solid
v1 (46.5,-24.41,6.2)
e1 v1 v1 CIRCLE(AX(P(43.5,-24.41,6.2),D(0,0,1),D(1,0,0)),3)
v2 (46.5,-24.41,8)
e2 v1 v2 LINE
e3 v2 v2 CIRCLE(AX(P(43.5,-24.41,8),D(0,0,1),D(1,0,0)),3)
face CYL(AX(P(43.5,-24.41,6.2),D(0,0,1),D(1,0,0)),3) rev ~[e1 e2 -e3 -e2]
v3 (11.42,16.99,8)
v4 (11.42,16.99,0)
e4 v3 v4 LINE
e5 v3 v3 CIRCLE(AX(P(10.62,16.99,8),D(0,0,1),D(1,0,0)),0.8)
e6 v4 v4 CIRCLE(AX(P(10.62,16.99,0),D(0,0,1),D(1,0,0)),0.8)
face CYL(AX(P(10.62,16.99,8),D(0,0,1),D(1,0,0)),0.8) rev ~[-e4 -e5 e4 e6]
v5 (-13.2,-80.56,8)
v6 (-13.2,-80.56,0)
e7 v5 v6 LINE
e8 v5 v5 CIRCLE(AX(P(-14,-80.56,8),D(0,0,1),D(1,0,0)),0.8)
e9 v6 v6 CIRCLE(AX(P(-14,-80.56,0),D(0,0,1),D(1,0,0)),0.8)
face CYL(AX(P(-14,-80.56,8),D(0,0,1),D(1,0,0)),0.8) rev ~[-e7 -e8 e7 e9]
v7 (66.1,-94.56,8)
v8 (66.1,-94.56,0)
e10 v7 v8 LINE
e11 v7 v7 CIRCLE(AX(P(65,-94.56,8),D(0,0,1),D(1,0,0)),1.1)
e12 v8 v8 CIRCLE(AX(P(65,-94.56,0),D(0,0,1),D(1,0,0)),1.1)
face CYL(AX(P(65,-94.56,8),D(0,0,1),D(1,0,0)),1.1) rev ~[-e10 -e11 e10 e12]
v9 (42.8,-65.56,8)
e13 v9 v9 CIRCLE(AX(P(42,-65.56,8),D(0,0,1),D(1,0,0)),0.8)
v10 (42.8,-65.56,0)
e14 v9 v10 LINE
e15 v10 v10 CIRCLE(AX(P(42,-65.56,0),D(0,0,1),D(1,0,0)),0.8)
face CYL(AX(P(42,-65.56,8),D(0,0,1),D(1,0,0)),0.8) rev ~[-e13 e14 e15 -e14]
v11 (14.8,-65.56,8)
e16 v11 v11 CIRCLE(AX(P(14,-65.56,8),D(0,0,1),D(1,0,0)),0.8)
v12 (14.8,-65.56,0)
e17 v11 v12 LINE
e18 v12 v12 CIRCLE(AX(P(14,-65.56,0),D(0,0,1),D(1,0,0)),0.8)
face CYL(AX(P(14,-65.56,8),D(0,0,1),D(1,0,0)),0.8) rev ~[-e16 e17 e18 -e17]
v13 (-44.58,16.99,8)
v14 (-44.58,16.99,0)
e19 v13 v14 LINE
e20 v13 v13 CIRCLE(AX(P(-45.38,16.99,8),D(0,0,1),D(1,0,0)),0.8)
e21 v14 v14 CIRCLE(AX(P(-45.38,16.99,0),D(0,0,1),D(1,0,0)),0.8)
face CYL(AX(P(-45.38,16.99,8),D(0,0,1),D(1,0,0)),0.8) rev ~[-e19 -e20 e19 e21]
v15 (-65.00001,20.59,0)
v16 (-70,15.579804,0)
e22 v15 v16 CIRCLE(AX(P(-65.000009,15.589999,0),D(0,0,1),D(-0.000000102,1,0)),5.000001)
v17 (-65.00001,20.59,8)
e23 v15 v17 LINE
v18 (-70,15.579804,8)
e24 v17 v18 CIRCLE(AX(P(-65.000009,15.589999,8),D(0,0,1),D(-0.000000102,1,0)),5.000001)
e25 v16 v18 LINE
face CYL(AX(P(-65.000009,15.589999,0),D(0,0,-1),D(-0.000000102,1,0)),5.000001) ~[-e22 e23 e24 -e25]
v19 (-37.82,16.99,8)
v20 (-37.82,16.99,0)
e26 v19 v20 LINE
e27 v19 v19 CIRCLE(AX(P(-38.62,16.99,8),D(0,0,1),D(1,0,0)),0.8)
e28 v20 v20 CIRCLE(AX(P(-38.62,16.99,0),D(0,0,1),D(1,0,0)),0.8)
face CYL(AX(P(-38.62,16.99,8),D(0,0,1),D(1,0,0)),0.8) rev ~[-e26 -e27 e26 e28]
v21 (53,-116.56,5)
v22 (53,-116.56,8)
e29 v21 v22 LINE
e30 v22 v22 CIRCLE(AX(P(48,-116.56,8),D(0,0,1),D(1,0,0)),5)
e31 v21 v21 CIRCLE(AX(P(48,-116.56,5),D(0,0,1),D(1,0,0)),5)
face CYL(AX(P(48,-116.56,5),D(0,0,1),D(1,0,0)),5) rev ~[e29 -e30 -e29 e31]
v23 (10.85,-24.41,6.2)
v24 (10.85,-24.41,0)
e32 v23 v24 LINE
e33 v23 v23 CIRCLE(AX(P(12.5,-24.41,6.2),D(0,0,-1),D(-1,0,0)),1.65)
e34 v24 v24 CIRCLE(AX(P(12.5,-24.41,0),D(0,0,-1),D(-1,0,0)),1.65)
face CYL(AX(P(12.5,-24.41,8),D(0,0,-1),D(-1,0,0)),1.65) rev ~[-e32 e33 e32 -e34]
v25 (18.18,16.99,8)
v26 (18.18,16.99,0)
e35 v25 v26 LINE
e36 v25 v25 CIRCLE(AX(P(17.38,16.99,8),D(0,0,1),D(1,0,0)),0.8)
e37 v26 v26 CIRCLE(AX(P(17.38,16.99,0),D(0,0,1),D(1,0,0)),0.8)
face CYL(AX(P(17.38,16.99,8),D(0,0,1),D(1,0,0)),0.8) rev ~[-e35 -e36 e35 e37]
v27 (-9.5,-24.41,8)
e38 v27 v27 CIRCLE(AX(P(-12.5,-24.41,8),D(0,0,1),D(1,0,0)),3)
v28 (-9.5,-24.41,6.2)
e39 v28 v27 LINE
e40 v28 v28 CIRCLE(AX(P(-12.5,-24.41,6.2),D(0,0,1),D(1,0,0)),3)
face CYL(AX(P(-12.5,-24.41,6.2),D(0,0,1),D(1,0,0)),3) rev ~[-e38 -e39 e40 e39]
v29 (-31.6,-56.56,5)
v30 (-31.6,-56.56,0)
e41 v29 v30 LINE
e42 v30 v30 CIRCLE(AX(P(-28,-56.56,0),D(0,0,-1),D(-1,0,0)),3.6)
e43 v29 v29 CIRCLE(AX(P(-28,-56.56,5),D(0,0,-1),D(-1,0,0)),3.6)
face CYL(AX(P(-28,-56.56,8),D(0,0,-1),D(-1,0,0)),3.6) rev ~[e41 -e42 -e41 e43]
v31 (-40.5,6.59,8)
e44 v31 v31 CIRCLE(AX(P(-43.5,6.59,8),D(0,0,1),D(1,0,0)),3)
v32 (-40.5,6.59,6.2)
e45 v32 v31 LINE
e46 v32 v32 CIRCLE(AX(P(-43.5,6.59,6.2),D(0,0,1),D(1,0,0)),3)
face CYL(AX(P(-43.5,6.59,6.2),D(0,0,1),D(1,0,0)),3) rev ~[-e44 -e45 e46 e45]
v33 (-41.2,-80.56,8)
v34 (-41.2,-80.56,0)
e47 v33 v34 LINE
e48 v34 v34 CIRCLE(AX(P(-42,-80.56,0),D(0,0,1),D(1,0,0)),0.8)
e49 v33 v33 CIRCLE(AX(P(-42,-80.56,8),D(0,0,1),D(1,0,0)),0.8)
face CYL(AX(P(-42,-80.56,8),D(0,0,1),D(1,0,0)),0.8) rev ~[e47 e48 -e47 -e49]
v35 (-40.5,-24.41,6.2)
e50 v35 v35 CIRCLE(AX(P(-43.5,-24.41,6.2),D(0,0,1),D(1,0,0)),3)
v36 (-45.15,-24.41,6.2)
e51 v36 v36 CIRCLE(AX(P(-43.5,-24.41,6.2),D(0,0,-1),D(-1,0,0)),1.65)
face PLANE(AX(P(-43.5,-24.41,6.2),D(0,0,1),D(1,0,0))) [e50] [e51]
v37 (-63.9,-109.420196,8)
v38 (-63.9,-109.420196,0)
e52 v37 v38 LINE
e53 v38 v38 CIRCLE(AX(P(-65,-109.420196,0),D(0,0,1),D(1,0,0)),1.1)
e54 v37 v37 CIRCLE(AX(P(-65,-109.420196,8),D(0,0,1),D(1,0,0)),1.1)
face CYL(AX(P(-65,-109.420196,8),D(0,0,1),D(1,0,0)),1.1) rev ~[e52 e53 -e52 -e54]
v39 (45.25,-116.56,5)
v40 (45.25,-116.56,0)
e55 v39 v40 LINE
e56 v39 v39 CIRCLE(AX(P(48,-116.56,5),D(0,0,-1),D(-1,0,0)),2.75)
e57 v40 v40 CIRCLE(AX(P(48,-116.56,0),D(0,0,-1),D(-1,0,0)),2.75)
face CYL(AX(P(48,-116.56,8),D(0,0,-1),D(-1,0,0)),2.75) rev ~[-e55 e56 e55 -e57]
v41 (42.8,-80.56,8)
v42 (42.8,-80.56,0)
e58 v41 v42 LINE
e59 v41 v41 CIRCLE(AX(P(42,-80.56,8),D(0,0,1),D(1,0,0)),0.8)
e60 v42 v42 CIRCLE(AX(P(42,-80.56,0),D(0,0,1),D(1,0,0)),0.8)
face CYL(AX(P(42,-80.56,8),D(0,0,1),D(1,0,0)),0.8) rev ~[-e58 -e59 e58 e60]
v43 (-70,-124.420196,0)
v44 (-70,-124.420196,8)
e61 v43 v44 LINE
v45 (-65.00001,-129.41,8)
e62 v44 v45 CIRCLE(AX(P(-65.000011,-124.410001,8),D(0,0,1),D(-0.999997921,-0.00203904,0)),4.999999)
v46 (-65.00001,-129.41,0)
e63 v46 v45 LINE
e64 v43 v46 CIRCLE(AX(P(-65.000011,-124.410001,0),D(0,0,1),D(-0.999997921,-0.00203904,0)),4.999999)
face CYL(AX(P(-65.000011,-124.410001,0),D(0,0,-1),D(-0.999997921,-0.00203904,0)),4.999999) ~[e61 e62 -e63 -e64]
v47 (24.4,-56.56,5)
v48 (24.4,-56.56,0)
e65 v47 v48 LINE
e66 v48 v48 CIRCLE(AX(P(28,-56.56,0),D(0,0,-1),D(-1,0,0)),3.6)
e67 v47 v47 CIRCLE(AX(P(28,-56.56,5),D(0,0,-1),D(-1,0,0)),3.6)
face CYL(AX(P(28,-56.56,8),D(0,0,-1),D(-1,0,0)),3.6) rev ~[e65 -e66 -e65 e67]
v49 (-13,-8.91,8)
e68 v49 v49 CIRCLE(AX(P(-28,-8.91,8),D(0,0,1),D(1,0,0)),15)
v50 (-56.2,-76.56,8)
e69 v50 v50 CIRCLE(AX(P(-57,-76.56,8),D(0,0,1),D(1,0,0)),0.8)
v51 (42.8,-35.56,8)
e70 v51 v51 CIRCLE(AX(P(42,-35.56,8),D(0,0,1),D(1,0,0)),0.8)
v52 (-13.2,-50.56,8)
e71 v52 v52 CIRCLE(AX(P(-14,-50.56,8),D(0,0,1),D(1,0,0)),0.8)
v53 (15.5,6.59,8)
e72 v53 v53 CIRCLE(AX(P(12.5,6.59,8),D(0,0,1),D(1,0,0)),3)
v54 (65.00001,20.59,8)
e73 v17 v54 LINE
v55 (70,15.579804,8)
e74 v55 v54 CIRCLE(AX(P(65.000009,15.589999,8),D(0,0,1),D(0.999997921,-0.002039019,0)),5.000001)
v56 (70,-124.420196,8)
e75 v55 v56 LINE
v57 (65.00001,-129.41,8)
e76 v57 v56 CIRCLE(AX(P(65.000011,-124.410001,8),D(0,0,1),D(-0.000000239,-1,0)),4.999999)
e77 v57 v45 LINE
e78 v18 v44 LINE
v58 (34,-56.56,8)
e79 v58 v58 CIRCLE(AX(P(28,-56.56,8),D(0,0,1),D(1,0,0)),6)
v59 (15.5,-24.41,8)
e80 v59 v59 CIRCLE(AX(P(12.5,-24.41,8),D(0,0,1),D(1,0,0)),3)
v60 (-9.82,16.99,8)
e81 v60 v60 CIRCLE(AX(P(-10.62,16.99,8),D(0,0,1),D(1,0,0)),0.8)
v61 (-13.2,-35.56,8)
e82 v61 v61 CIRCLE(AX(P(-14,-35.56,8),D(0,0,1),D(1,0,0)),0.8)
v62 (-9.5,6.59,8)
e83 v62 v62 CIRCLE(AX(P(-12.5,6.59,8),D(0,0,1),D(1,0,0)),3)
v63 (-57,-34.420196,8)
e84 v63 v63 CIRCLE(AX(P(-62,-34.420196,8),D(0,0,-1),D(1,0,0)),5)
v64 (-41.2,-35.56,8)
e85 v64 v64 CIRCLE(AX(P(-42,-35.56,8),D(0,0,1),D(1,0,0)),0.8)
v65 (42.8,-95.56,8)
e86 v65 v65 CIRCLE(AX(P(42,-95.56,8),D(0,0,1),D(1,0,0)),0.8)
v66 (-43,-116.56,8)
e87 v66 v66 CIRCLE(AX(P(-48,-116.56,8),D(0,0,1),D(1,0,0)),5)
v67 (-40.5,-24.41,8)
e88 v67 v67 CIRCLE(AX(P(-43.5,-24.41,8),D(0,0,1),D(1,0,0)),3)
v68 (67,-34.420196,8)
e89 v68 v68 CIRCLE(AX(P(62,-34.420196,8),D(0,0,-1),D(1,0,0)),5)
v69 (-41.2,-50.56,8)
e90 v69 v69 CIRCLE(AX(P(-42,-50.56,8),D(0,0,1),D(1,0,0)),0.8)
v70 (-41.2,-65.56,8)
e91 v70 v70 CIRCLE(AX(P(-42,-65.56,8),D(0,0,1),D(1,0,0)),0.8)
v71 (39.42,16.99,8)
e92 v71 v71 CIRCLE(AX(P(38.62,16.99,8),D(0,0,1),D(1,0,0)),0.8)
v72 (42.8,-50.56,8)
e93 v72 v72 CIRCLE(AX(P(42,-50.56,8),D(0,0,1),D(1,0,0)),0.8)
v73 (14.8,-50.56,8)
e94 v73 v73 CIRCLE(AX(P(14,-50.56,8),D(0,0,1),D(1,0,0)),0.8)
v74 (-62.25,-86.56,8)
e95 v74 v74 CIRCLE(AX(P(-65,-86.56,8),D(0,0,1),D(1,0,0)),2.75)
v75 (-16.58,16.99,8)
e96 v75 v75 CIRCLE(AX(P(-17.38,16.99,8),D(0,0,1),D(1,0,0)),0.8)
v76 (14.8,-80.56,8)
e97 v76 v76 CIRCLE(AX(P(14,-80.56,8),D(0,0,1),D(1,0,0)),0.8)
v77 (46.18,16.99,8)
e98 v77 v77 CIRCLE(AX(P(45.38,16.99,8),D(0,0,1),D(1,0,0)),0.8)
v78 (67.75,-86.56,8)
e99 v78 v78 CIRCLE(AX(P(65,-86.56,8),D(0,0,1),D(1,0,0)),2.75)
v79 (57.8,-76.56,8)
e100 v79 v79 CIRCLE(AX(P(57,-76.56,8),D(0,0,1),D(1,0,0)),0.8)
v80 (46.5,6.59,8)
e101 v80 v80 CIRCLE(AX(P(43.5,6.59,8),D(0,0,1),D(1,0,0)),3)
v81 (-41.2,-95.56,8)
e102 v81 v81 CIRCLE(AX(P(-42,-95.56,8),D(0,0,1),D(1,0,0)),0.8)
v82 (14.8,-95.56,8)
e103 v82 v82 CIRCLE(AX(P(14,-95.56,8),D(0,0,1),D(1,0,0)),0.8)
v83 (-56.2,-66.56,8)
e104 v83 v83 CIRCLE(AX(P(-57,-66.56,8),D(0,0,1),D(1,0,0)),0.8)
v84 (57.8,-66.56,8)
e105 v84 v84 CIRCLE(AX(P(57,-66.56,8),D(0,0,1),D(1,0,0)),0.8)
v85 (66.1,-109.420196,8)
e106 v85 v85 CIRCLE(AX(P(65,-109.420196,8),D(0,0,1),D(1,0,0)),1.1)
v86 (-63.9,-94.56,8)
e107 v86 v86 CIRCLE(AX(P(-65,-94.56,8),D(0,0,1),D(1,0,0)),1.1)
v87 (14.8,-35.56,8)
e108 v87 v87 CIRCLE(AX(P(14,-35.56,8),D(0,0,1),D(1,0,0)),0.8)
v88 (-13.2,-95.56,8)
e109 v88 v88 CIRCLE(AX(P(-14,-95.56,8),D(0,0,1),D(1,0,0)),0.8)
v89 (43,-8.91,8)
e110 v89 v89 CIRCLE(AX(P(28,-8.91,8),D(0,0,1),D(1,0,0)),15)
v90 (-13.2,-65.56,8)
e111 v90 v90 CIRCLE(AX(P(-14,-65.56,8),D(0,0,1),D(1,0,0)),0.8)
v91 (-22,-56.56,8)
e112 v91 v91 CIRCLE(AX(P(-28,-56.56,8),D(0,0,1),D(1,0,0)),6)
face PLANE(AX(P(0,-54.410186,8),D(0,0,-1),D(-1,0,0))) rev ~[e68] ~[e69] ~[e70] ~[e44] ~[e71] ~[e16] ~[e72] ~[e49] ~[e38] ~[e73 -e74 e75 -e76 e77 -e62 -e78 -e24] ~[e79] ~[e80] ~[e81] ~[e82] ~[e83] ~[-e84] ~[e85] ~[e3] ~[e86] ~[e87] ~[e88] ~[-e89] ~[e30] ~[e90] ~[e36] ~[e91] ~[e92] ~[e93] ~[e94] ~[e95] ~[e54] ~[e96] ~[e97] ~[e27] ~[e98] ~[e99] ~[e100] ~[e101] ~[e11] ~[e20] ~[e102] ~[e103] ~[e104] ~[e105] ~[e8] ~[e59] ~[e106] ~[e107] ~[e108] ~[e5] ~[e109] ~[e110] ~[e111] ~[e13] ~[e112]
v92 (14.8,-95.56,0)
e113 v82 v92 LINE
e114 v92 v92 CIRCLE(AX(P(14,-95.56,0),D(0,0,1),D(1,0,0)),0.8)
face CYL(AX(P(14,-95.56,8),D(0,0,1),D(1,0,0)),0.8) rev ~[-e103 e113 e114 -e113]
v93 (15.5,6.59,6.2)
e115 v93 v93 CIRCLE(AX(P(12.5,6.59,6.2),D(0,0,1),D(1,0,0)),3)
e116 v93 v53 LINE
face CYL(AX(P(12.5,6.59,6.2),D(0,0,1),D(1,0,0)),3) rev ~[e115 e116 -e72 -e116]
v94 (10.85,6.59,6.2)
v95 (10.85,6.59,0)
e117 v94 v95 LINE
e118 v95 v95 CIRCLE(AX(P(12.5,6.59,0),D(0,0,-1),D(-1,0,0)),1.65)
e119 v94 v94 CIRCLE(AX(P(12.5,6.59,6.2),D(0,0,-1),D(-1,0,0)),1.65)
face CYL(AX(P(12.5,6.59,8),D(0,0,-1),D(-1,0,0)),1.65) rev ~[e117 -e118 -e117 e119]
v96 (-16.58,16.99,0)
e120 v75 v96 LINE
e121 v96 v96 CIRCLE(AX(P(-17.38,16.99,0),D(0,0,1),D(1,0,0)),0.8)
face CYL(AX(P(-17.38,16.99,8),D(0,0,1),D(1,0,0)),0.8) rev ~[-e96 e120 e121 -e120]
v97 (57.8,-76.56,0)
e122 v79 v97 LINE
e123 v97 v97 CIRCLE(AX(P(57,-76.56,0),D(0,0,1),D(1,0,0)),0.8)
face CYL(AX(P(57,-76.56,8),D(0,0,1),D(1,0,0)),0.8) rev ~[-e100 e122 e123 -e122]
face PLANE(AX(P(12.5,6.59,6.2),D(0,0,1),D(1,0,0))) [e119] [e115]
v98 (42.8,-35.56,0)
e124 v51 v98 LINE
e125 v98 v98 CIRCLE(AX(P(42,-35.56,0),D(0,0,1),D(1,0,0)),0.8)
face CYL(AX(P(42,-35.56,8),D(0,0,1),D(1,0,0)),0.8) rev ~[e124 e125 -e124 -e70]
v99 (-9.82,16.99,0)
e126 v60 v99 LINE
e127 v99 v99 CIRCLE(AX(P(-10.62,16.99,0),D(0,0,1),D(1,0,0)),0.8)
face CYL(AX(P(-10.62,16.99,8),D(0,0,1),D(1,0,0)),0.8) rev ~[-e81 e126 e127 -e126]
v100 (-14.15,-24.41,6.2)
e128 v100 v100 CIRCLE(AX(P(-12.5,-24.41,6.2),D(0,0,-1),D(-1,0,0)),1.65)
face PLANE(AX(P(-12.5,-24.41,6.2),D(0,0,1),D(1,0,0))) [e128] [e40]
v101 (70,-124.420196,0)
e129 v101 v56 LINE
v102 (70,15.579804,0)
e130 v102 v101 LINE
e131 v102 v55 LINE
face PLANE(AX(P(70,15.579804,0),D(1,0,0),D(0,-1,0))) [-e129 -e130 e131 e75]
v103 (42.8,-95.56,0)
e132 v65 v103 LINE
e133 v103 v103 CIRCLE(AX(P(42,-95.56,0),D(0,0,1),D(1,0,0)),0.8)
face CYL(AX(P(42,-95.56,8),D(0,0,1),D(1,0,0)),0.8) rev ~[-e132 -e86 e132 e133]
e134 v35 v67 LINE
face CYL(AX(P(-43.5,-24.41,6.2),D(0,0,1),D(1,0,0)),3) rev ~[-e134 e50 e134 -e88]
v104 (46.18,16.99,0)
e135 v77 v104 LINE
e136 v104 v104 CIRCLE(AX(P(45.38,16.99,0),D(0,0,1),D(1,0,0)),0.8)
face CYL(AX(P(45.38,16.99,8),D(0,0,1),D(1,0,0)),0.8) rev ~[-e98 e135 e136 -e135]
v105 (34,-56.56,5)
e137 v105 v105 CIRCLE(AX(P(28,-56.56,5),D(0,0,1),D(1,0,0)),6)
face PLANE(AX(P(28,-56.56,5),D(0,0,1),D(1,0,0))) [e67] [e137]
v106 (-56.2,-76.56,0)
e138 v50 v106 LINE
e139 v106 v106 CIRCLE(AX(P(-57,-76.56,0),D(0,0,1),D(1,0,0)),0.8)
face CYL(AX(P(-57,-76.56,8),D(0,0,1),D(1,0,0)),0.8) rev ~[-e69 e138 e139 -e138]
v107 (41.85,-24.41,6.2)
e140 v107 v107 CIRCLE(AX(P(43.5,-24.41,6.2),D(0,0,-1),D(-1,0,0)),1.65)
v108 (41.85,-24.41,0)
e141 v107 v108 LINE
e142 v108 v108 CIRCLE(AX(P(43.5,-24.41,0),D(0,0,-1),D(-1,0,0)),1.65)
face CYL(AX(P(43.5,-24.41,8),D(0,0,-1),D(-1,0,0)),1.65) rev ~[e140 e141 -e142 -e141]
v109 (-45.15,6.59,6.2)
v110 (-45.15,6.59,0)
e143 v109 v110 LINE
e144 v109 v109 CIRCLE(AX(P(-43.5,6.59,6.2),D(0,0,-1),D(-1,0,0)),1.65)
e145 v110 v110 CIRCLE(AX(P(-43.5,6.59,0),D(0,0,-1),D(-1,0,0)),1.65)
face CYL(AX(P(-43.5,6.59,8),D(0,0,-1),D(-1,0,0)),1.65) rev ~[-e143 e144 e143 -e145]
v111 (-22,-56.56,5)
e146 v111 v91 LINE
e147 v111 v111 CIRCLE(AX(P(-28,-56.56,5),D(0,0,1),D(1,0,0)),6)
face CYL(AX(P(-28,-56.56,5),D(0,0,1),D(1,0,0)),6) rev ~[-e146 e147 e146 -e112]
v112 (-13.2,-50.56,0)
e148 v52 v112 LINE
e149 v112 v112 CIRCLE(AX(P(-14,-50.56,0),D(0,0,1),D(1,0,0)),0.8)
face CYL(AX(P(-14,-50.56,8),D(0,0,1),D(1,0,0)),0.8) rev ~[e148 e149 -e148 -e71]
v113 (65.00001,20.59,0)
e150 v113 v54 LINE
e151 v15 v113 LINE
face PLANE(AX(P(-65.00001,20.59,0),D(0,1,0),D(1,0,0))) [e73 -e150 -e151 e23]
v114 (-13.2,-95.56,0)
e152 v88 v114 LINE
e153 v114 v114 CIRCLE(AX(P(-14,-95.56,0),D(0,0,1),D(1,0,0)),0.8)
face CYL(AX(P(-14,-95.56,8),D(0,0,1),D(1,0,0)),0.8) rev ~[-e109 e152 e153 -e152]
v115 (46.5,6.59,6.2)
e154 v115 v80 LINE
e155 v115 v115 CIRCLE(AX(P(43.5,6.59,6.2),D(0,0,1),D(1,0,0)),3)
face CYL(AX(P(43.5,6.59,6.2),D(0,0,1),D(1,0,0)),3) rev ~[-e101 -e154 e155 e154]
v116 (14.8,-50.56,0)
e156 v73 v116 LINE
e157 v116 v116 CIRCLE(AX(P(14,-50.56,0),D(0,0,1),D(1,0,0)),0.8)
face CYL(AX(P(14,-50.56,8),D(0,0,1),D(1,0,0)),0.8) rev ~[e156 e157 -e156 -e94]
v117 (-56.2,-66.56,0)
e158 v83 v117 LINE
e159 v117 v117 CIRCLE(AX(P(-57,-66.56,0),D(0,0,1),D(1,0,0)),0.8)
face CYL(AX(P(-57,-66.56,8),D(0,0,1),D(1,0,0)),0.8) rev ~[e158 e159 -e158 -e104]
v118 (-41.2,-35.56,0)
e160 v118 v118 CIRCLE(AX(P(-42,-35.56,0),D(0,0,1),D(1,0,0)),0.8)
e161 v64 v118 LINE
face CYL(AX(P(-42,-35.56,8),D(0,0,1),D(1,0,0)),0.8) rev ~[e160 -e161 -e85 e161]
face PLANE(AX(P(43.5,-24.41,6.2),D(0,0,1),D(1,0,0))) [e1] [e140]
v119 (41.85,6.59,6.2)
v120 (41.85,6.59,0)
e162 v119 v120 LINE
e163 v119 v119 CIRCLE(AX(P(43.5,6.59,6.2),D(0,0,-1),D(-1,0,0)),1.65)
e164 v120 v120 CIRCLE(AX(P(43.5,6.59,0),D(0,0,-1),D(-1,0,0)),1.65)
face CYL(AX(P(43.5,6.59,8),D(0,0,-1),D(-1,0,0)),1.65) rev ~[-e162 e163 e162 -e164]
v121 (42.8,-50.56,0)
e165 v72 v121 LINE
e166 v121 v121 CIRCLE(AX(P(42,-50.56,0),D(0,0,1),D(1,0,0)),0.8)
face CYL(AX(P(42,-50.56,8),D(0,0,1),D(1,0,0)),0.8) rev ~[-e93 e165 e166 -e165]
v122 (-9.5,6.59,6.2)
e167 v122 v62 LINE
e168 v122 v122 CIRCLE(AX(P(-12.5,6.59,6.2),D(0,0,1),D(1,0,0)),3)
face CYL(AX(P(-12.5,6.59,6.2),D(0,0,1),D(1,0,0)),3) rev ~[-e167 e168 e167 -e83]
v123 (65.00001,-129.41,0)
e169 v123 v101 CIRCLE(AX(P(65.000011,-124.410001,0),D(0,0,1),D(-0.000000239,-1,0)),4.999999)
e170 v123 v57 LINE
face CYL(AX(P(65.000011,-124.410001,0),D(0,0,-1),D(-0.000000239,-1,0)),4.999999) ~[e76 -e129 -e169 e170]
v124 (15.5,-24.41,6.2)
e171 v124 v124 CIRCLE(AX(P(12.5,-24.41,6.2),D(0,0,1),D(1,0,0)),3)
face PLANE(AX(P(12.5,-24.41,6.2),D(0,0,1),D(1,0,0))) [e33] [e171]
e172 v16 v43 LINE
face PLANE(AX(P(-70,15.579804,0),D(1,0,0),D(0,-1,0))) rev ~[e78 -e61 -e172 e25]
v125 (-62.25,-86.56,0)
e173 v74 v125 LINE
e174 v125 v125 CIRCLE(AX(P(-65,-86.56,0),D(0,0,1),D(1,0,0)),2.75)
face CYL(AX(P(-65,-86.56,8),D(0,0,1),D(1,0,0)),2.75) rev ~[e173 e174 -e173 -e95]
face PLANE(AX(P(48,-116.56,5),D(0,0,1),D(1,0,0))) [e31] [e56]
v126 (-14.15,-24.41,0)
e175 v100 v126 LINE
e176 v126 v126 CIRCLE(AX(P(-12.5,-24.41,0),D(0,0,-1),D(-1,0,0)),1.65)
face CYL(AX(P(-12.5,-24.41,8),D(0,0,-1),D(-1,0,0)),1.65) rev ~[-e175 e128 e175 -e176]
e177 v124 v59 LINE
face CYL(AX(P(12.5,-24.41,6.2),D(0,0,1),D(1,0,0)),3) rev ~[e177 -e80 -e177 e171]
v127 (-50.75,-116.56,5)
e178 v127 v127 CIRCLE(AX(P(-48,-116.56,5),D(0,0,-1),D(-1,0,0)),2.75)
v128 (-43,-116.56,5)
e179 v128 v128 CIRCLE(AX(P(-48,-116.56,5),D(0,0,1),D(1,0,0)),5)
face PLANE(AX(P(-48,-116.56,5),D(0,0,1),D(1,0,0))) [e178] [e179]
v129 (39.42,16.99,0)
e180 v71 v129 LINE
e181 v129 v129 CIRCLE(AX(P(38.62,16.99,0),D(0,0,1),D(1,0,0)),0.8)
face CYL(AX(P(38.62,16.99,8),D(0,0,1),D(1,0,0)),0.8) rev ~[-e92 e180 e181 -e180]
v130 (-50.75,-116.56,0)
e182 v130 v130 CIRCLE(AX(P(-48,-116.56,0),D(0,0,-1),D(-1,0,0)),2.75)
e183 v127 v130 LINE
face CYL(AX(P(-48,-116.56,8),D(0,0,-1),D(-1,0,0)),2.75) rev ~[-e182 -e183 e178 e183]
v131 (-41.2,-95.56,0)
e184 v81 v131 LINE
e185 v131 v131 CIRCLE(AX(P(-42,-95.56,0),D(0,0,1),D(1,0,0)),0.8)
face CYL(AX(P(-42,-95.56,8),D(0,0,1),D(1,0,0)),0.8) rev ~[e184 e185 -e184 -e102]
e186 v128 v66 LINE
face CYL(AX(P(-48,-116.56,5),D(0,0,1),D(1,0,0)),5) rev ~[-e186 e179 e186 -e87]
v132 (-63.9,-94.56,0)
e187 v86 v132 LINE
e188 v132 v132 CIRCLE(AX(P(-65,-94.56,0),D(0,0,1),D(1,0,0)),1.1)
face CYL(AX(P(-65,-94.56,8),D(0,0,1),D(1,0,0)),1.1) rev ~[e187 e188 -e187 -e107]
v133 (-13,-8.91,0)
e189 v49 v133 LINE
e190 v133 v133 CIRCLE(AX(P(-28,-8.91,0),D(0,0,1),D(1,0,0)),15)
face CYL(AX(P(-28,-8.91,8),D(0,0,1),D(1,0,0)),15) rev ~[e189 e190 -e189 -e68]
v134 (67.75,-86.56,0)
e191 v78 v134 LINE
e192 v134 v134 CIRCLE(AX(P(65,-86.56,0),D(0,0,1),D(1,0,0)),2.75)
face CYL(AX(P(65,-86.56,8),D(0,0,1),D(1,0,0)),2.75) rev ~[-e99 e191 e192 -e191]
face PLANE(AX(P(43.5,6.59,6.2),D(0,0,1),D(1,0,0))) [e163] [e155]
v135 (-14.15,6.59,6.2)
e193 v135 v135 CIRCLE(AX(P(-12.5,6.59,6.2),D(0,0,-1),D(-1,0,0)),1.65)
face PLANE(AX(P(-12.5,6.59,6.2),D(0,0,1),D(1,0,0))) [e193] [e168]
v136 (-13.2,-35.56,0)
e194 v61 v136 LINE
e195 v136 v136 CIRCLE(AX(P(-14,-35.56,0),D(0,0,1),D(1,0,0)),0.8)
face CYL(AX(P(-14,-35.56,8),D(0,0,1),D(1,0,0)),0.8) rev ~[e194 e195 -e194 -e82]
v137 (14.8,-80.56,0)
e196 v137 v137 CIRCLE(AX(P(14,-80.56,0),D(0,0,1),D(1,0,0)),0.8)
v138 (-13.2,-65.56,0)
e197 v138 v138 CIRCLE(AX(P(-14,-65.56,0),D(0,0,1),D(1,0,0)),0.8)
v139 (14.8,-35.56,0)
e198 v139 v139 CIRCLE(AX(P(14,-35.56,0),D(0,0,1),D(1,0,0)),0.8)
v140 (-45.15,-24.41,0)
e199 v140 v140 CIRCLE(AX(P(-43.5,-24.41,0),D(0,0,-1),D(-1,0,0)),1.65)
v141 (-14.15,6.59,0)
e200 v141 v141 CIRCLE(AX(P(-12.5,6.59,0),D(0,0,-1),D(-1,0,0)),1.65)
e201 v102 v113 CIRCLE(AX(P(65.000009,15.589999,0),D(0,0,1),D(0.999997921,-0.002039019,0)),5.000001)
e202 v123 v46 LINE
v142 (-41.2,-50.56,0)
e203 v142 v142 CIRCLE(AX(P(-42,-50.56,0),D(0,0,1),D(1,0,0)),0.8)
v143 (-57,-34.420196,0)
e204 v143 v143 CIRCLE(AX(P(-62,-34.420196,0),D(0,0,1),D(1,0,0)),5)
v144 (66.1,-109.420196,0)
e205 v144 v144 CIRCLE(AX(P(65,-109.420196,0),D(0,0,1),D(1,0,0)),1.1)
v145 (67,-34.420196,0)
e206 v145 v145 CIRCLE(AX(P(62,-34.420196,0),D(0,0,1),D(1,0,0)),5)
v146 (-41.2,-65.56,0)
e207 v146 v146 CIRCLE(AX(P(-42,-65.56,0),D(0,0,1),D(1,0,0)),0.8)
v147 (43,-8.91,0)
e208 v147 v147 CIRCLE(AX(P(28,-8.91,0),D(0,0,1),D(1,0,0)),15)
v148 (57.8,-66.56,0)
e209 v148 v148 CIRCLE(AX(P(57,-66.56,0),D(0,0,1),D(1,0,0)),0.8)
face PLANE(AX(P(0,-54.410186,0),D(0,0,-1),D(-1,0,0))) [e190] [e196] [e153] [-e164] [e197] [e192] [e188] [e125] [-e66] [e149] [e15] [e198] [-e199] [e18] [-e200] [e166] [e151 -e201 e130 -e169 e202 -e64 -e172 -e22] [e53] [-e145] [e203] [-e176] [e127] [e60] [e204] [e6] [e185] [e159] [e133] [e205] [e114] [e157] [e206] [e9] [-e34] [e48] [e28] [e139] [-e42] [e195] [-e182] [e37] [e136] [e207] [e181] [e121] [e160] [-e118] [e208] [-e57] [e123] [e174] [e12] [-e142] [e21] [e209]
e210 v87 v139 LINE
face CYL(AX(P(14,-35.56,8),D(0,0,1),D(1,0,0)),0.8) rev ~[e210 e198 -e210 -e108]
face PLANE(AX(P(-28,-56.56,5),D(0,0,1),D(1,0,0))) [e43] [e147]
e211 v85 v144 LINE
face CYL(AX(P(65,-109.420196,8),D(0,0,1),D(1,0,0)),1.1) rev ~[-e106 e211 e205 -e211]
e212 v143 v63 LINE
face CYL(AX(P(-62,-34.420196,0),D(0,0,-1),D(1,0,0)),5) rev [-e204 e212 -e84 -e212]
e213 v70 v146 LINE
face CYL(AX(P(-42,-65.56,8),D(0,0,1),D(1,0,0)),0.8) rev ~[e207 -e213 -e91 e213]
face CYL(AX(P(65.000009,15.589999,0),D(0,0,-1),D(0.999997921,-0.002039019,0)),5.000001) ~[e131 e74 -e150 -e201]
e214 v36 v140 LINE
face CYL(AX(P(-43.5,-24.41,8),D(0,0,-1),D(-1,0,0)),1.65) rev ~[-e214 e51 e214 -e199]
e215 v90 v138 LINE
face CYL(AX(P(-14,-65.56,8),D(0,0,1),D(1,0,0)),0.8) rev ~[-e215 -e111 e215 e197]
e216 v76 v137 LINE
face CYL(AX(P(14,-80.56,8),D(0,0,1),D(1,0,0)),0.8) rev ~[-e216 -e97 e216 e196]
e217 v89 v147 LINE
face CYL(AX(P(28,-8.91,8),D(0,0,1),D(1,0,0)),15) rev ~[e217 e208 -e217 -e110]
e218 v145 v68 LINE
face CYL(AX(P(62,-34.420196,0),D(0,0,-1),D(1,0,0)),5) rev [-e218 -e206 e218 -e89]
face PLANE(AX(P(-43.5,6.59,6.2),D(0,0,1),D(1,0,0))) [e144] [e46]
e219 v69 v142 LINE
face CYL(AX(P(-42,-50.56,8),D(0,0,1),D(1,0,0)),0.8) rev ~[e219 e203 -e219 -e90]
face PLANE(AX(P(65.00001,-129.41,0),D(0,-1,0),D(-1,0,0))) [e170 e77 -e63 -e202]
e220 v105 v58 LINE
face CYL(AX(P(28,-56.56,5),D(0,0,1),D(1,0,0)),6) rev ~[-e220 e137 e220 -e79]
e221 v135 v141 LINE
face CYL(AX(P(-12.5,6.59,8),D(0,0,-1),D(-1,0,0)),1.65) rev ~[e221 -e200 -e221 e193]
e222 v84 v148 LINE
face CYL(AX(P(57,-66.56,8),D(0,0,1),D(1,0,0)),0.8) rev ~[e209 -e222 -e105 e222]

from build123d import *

# Parameters (mm, degrees)
PAD009_DEPTH        = 8
HOLE001_D           = 5.5
HOLE001_DEPTH       = 25
HOLE001_CBORE_D     = 10
HOLE001_CBORE_DEPTH = 3
HOLE003_D           = 7.2
HOLE003_DEPTH       = 25
HOLE003_CBORE_D     = 12
HOLE003_CBORE_DEPTH = 3
SKETCH028_R         = 0.8
HOLE004_DEPTH       = 25
HOLE005_D           = 3.3
HOLE005_DEPTH       = 25
HOLE005_CBORE_D     = 6
HOLE005_CBORE_DEPTH = 1.8
SKETCH030_R         = 15
POCKET015_DEPTH     = 8.001
SKETCH031_R         = 0.8
HOLE006_DEPTH       = 25
SKETCH044_R         = 2.75
HOLE_DEPTH          = 25
SKETCH060_R         = 5
POCKET018_DEPTH     = 8.001
SKETCH061_R         = 0.8
HOLE023_DEPTH       = 25
SKETCH062_R         = 1.1
HOLE024_DEPTH       = 25


with BuildPart() as part:
    # Sketch023 (on Part) → Pad009 (new body)
    with BuildSketch(Plane.XY):
        with BuildLine():
            Line((-65.00001, 20.59), (65.00001, 20.59))
            ThreePointArc((70, 15.579804), (68.539147, 19.121927), (65.00001, 20.59))
            Line((70, 15.579804), (70, -124.420196))
            ThreePointArc((65.00001, -129.41), (68.531938, -127.949137), (70, -124.420196))
            Line((65.00001, -129.41), (-65.00001, -129.41))
            ThreePointArc((-70, -124.420196), (-68.531938, -127.949137), (-65.00001, -129.41))
            Line((-70, 15.579804), (-70, -124.420196))
            ThreePointArc((-65.00001, 20.59), (-68.539147, 19.121927), (-70, 15.579804))
        make_face()
    extrude(amount=PAD009_DEPTH)

    # Hole001
    with Locations(Plane.XY.offset(8)):
        with Locations((-48, -116.56), (48, -116.56)):
            CounterBoreHole(HOLE001_D / 2, HOLE001_CBORE_D / 2, HOLE001_CBORE_DEPTH, depth=HOLE001_DEPTH)

    # Hole003
    with Locations(Plane.XY.offset(8)):
        with Locations((-28, -56.56), (28, -56.56)):
            CounterBoreHole(HOLE003_D / 2, HOLE003_CBORE_D / 2, HOLE003_CBORE_DEPTH, depth=HOLE003_DEPTH)

    # Sketch028 (on Face5 of Hole003) → Hole004 (cut)
    with BuildSketch(Plane.XY.offset(8)):
        with Locations((-42, -35.56)):
            Circle(SKETCH028_R)
        with Locations((-14, -35.56)):
            Circle(SKETCH028_R)
        with Locations((14, -35.56)):
            Circle(SKETCH028_R)
        with Locations((42, -35.56)):
            Circle(SKETCH028_R)
        with Locations((-42, -50.56)):
            Circle(SKETCH028_R)
        with Locations((-14, -50.56)):
            Circle(SKETCH028_R)
        with Locations((14, -50.56)):
            Circle(SKETCH028_R)
        with Locations((42, -50.56)):
            Circle(SKETCH028_R)
        with Locations((-42, -65.56)):
            Circle(SKETCH028_R)
        with Locations((-14, -65.56)):
            Circle(SKETCH028_R)
        with Locations((14, -65.56)):
            Circle(SKETCH028_R)
        with Locations((42, -65.56)):
            Circle(SKETCH028_R)
        with Locations((-42, -80.56)):
            Circle(SKETCH028_R)
        with Locations((-14, -80.56)):
            Circle(SKETCH028_R)
        with Locations((14, -80.56)):
            Circle(SKETCH028_R)
        with Locations((42, -80.56)):
            Circle(SKETCH028_R)
        with Locations((-42, -95.56)):
            Circle(SKETCH028_R)
        with Locations((-14, -95.56)):
            Circle(SKETCH028_R)
        with Locations((14, -95.56)):
            Circle(SKETCH028_R)
        with Locations((42, -95.56)):
            Circle(SKETCH028_R)
    extrude(amount=-HOLE004_DEPTH, mode=Mode.SUBTRACT)

    # Hole005
    with Locations(Plane.XY.offset(8)):
        with Locations((-43.5, 6.59), (-12.5, 6.59), (-43.5, -24.41), (-12.5, -24.41), (12.5, 6.59), (43.5, 6.59), (12.5, -24.41), (43.5, -24.41)):
            CounterBoreHole(HOLE005_D / 2, HOLE005_CBORE_D / 2, HOLE005_CBORE_DEPTH, depth=HOLE005_DEPTH)

    # Sketch030 (on Face5 of Hole005) → Pocket015 (cut, through all)
    with BuildSketch(Plane.XY.offset(8)):
        with Locations((-28, -8.91)):
            Circle(SKETCH030_R)
        with Locations((28, -8.91)):
            Circle(SKETCH030_R)
    extrude(amount=-POCKET015_DEPTH, mode=Mode.SUBTRACT)

    # Sketch031 (on Face5 of Pocket015) → Hole006 (cut)
    with BuildSketch(Plane.XY.offset(8)):
        with Locations((-45.38, 16.99)):
            Circle(SKETCH031_R)
        with Locations((-38.62, 16.99)):
            Circle(SKETCH031_R)
        with Locations((-17.38, 16.99)):
            Circle(SKETCH031_R)
        with Locations((-10.62, 16.99)):
            Circle(SKETCH031_R)
        with Locations((10.62, 16.99)):
            Circle(SKETCH031_R)
        with Locations((17.38, 16.99)):
            Circle(SKETCH031_R)
        with Locations((38.62, 16.99)):
            Circle(SKETCH031_R)
        with Locations((45.38, 16.99)):
            Circle(SKETCH031_R)
    extrude(amount=-HOLE006_DEPTH, mode=Mode.SUBTRACT)

    # Sketch044 (on Face5 of Hole006) → Hole (cut)
    with BuildSketch(Plane.XY.offset(8)):
        with Locations((-65, -86.56)):
            Circle(SKETCH044_R)
        with Locations((65, -86.56)):
            Circle(SKETCH044_R)
    extrude(amount=-HOLE_DEPTH, mode=Mode.SUBTRACT)

    # Sketch060 → Pocket018 (cut, through all)
    with BuildSketch(Plane.XY):
        with Locations((-62, -34.420196)):
            Circle(SKETCH060_R)
        with Locations((62, -34.420196)):
            Circle(SKETCH060_R)
    extrude(amount=POCKET018_DEPTH, mode=Mode.SUBTRACT)

    # Sketch061 (on Face5 of Pocket018) → Hole023 (cut)
    with BuildSketch(Plane.XY.offset(8)):
        with Locations((-57, -66.56)):
            Circle(SKETCH061_R)
        with Locations((-57, -76.56)):
            Circle(SKETCH061_R)
        with Locations((57, -66.56)):
            Circle(SKETCH061_R)
        with Locations((57, -76.56)):
            Circle(SKETCH061_R)
    extrude(amount=-HOLE023_DEPTH, mode=Mode.SUBTRACT)

    # Sketch062 (on Face5 of Hole023) → Hole024 (cut)
    with BuildSketch(Plane.XY.offset(8)):
        with Locations((-65, -109.420196)):
            Circle(SKETCH062_R)
        with Locations((-65, -94.56)):
            Circle(SKETCH062_R)
        with Locations((65, -109.420196)):
            Circle(SKETCH062_R)
        with Locations((65, -94.56)):
            Circle(SKETCH062_R)
    extrude(amount=-HOLE024_DEPTH, mode=Mode.SUBTRACT)


solid = part.part
